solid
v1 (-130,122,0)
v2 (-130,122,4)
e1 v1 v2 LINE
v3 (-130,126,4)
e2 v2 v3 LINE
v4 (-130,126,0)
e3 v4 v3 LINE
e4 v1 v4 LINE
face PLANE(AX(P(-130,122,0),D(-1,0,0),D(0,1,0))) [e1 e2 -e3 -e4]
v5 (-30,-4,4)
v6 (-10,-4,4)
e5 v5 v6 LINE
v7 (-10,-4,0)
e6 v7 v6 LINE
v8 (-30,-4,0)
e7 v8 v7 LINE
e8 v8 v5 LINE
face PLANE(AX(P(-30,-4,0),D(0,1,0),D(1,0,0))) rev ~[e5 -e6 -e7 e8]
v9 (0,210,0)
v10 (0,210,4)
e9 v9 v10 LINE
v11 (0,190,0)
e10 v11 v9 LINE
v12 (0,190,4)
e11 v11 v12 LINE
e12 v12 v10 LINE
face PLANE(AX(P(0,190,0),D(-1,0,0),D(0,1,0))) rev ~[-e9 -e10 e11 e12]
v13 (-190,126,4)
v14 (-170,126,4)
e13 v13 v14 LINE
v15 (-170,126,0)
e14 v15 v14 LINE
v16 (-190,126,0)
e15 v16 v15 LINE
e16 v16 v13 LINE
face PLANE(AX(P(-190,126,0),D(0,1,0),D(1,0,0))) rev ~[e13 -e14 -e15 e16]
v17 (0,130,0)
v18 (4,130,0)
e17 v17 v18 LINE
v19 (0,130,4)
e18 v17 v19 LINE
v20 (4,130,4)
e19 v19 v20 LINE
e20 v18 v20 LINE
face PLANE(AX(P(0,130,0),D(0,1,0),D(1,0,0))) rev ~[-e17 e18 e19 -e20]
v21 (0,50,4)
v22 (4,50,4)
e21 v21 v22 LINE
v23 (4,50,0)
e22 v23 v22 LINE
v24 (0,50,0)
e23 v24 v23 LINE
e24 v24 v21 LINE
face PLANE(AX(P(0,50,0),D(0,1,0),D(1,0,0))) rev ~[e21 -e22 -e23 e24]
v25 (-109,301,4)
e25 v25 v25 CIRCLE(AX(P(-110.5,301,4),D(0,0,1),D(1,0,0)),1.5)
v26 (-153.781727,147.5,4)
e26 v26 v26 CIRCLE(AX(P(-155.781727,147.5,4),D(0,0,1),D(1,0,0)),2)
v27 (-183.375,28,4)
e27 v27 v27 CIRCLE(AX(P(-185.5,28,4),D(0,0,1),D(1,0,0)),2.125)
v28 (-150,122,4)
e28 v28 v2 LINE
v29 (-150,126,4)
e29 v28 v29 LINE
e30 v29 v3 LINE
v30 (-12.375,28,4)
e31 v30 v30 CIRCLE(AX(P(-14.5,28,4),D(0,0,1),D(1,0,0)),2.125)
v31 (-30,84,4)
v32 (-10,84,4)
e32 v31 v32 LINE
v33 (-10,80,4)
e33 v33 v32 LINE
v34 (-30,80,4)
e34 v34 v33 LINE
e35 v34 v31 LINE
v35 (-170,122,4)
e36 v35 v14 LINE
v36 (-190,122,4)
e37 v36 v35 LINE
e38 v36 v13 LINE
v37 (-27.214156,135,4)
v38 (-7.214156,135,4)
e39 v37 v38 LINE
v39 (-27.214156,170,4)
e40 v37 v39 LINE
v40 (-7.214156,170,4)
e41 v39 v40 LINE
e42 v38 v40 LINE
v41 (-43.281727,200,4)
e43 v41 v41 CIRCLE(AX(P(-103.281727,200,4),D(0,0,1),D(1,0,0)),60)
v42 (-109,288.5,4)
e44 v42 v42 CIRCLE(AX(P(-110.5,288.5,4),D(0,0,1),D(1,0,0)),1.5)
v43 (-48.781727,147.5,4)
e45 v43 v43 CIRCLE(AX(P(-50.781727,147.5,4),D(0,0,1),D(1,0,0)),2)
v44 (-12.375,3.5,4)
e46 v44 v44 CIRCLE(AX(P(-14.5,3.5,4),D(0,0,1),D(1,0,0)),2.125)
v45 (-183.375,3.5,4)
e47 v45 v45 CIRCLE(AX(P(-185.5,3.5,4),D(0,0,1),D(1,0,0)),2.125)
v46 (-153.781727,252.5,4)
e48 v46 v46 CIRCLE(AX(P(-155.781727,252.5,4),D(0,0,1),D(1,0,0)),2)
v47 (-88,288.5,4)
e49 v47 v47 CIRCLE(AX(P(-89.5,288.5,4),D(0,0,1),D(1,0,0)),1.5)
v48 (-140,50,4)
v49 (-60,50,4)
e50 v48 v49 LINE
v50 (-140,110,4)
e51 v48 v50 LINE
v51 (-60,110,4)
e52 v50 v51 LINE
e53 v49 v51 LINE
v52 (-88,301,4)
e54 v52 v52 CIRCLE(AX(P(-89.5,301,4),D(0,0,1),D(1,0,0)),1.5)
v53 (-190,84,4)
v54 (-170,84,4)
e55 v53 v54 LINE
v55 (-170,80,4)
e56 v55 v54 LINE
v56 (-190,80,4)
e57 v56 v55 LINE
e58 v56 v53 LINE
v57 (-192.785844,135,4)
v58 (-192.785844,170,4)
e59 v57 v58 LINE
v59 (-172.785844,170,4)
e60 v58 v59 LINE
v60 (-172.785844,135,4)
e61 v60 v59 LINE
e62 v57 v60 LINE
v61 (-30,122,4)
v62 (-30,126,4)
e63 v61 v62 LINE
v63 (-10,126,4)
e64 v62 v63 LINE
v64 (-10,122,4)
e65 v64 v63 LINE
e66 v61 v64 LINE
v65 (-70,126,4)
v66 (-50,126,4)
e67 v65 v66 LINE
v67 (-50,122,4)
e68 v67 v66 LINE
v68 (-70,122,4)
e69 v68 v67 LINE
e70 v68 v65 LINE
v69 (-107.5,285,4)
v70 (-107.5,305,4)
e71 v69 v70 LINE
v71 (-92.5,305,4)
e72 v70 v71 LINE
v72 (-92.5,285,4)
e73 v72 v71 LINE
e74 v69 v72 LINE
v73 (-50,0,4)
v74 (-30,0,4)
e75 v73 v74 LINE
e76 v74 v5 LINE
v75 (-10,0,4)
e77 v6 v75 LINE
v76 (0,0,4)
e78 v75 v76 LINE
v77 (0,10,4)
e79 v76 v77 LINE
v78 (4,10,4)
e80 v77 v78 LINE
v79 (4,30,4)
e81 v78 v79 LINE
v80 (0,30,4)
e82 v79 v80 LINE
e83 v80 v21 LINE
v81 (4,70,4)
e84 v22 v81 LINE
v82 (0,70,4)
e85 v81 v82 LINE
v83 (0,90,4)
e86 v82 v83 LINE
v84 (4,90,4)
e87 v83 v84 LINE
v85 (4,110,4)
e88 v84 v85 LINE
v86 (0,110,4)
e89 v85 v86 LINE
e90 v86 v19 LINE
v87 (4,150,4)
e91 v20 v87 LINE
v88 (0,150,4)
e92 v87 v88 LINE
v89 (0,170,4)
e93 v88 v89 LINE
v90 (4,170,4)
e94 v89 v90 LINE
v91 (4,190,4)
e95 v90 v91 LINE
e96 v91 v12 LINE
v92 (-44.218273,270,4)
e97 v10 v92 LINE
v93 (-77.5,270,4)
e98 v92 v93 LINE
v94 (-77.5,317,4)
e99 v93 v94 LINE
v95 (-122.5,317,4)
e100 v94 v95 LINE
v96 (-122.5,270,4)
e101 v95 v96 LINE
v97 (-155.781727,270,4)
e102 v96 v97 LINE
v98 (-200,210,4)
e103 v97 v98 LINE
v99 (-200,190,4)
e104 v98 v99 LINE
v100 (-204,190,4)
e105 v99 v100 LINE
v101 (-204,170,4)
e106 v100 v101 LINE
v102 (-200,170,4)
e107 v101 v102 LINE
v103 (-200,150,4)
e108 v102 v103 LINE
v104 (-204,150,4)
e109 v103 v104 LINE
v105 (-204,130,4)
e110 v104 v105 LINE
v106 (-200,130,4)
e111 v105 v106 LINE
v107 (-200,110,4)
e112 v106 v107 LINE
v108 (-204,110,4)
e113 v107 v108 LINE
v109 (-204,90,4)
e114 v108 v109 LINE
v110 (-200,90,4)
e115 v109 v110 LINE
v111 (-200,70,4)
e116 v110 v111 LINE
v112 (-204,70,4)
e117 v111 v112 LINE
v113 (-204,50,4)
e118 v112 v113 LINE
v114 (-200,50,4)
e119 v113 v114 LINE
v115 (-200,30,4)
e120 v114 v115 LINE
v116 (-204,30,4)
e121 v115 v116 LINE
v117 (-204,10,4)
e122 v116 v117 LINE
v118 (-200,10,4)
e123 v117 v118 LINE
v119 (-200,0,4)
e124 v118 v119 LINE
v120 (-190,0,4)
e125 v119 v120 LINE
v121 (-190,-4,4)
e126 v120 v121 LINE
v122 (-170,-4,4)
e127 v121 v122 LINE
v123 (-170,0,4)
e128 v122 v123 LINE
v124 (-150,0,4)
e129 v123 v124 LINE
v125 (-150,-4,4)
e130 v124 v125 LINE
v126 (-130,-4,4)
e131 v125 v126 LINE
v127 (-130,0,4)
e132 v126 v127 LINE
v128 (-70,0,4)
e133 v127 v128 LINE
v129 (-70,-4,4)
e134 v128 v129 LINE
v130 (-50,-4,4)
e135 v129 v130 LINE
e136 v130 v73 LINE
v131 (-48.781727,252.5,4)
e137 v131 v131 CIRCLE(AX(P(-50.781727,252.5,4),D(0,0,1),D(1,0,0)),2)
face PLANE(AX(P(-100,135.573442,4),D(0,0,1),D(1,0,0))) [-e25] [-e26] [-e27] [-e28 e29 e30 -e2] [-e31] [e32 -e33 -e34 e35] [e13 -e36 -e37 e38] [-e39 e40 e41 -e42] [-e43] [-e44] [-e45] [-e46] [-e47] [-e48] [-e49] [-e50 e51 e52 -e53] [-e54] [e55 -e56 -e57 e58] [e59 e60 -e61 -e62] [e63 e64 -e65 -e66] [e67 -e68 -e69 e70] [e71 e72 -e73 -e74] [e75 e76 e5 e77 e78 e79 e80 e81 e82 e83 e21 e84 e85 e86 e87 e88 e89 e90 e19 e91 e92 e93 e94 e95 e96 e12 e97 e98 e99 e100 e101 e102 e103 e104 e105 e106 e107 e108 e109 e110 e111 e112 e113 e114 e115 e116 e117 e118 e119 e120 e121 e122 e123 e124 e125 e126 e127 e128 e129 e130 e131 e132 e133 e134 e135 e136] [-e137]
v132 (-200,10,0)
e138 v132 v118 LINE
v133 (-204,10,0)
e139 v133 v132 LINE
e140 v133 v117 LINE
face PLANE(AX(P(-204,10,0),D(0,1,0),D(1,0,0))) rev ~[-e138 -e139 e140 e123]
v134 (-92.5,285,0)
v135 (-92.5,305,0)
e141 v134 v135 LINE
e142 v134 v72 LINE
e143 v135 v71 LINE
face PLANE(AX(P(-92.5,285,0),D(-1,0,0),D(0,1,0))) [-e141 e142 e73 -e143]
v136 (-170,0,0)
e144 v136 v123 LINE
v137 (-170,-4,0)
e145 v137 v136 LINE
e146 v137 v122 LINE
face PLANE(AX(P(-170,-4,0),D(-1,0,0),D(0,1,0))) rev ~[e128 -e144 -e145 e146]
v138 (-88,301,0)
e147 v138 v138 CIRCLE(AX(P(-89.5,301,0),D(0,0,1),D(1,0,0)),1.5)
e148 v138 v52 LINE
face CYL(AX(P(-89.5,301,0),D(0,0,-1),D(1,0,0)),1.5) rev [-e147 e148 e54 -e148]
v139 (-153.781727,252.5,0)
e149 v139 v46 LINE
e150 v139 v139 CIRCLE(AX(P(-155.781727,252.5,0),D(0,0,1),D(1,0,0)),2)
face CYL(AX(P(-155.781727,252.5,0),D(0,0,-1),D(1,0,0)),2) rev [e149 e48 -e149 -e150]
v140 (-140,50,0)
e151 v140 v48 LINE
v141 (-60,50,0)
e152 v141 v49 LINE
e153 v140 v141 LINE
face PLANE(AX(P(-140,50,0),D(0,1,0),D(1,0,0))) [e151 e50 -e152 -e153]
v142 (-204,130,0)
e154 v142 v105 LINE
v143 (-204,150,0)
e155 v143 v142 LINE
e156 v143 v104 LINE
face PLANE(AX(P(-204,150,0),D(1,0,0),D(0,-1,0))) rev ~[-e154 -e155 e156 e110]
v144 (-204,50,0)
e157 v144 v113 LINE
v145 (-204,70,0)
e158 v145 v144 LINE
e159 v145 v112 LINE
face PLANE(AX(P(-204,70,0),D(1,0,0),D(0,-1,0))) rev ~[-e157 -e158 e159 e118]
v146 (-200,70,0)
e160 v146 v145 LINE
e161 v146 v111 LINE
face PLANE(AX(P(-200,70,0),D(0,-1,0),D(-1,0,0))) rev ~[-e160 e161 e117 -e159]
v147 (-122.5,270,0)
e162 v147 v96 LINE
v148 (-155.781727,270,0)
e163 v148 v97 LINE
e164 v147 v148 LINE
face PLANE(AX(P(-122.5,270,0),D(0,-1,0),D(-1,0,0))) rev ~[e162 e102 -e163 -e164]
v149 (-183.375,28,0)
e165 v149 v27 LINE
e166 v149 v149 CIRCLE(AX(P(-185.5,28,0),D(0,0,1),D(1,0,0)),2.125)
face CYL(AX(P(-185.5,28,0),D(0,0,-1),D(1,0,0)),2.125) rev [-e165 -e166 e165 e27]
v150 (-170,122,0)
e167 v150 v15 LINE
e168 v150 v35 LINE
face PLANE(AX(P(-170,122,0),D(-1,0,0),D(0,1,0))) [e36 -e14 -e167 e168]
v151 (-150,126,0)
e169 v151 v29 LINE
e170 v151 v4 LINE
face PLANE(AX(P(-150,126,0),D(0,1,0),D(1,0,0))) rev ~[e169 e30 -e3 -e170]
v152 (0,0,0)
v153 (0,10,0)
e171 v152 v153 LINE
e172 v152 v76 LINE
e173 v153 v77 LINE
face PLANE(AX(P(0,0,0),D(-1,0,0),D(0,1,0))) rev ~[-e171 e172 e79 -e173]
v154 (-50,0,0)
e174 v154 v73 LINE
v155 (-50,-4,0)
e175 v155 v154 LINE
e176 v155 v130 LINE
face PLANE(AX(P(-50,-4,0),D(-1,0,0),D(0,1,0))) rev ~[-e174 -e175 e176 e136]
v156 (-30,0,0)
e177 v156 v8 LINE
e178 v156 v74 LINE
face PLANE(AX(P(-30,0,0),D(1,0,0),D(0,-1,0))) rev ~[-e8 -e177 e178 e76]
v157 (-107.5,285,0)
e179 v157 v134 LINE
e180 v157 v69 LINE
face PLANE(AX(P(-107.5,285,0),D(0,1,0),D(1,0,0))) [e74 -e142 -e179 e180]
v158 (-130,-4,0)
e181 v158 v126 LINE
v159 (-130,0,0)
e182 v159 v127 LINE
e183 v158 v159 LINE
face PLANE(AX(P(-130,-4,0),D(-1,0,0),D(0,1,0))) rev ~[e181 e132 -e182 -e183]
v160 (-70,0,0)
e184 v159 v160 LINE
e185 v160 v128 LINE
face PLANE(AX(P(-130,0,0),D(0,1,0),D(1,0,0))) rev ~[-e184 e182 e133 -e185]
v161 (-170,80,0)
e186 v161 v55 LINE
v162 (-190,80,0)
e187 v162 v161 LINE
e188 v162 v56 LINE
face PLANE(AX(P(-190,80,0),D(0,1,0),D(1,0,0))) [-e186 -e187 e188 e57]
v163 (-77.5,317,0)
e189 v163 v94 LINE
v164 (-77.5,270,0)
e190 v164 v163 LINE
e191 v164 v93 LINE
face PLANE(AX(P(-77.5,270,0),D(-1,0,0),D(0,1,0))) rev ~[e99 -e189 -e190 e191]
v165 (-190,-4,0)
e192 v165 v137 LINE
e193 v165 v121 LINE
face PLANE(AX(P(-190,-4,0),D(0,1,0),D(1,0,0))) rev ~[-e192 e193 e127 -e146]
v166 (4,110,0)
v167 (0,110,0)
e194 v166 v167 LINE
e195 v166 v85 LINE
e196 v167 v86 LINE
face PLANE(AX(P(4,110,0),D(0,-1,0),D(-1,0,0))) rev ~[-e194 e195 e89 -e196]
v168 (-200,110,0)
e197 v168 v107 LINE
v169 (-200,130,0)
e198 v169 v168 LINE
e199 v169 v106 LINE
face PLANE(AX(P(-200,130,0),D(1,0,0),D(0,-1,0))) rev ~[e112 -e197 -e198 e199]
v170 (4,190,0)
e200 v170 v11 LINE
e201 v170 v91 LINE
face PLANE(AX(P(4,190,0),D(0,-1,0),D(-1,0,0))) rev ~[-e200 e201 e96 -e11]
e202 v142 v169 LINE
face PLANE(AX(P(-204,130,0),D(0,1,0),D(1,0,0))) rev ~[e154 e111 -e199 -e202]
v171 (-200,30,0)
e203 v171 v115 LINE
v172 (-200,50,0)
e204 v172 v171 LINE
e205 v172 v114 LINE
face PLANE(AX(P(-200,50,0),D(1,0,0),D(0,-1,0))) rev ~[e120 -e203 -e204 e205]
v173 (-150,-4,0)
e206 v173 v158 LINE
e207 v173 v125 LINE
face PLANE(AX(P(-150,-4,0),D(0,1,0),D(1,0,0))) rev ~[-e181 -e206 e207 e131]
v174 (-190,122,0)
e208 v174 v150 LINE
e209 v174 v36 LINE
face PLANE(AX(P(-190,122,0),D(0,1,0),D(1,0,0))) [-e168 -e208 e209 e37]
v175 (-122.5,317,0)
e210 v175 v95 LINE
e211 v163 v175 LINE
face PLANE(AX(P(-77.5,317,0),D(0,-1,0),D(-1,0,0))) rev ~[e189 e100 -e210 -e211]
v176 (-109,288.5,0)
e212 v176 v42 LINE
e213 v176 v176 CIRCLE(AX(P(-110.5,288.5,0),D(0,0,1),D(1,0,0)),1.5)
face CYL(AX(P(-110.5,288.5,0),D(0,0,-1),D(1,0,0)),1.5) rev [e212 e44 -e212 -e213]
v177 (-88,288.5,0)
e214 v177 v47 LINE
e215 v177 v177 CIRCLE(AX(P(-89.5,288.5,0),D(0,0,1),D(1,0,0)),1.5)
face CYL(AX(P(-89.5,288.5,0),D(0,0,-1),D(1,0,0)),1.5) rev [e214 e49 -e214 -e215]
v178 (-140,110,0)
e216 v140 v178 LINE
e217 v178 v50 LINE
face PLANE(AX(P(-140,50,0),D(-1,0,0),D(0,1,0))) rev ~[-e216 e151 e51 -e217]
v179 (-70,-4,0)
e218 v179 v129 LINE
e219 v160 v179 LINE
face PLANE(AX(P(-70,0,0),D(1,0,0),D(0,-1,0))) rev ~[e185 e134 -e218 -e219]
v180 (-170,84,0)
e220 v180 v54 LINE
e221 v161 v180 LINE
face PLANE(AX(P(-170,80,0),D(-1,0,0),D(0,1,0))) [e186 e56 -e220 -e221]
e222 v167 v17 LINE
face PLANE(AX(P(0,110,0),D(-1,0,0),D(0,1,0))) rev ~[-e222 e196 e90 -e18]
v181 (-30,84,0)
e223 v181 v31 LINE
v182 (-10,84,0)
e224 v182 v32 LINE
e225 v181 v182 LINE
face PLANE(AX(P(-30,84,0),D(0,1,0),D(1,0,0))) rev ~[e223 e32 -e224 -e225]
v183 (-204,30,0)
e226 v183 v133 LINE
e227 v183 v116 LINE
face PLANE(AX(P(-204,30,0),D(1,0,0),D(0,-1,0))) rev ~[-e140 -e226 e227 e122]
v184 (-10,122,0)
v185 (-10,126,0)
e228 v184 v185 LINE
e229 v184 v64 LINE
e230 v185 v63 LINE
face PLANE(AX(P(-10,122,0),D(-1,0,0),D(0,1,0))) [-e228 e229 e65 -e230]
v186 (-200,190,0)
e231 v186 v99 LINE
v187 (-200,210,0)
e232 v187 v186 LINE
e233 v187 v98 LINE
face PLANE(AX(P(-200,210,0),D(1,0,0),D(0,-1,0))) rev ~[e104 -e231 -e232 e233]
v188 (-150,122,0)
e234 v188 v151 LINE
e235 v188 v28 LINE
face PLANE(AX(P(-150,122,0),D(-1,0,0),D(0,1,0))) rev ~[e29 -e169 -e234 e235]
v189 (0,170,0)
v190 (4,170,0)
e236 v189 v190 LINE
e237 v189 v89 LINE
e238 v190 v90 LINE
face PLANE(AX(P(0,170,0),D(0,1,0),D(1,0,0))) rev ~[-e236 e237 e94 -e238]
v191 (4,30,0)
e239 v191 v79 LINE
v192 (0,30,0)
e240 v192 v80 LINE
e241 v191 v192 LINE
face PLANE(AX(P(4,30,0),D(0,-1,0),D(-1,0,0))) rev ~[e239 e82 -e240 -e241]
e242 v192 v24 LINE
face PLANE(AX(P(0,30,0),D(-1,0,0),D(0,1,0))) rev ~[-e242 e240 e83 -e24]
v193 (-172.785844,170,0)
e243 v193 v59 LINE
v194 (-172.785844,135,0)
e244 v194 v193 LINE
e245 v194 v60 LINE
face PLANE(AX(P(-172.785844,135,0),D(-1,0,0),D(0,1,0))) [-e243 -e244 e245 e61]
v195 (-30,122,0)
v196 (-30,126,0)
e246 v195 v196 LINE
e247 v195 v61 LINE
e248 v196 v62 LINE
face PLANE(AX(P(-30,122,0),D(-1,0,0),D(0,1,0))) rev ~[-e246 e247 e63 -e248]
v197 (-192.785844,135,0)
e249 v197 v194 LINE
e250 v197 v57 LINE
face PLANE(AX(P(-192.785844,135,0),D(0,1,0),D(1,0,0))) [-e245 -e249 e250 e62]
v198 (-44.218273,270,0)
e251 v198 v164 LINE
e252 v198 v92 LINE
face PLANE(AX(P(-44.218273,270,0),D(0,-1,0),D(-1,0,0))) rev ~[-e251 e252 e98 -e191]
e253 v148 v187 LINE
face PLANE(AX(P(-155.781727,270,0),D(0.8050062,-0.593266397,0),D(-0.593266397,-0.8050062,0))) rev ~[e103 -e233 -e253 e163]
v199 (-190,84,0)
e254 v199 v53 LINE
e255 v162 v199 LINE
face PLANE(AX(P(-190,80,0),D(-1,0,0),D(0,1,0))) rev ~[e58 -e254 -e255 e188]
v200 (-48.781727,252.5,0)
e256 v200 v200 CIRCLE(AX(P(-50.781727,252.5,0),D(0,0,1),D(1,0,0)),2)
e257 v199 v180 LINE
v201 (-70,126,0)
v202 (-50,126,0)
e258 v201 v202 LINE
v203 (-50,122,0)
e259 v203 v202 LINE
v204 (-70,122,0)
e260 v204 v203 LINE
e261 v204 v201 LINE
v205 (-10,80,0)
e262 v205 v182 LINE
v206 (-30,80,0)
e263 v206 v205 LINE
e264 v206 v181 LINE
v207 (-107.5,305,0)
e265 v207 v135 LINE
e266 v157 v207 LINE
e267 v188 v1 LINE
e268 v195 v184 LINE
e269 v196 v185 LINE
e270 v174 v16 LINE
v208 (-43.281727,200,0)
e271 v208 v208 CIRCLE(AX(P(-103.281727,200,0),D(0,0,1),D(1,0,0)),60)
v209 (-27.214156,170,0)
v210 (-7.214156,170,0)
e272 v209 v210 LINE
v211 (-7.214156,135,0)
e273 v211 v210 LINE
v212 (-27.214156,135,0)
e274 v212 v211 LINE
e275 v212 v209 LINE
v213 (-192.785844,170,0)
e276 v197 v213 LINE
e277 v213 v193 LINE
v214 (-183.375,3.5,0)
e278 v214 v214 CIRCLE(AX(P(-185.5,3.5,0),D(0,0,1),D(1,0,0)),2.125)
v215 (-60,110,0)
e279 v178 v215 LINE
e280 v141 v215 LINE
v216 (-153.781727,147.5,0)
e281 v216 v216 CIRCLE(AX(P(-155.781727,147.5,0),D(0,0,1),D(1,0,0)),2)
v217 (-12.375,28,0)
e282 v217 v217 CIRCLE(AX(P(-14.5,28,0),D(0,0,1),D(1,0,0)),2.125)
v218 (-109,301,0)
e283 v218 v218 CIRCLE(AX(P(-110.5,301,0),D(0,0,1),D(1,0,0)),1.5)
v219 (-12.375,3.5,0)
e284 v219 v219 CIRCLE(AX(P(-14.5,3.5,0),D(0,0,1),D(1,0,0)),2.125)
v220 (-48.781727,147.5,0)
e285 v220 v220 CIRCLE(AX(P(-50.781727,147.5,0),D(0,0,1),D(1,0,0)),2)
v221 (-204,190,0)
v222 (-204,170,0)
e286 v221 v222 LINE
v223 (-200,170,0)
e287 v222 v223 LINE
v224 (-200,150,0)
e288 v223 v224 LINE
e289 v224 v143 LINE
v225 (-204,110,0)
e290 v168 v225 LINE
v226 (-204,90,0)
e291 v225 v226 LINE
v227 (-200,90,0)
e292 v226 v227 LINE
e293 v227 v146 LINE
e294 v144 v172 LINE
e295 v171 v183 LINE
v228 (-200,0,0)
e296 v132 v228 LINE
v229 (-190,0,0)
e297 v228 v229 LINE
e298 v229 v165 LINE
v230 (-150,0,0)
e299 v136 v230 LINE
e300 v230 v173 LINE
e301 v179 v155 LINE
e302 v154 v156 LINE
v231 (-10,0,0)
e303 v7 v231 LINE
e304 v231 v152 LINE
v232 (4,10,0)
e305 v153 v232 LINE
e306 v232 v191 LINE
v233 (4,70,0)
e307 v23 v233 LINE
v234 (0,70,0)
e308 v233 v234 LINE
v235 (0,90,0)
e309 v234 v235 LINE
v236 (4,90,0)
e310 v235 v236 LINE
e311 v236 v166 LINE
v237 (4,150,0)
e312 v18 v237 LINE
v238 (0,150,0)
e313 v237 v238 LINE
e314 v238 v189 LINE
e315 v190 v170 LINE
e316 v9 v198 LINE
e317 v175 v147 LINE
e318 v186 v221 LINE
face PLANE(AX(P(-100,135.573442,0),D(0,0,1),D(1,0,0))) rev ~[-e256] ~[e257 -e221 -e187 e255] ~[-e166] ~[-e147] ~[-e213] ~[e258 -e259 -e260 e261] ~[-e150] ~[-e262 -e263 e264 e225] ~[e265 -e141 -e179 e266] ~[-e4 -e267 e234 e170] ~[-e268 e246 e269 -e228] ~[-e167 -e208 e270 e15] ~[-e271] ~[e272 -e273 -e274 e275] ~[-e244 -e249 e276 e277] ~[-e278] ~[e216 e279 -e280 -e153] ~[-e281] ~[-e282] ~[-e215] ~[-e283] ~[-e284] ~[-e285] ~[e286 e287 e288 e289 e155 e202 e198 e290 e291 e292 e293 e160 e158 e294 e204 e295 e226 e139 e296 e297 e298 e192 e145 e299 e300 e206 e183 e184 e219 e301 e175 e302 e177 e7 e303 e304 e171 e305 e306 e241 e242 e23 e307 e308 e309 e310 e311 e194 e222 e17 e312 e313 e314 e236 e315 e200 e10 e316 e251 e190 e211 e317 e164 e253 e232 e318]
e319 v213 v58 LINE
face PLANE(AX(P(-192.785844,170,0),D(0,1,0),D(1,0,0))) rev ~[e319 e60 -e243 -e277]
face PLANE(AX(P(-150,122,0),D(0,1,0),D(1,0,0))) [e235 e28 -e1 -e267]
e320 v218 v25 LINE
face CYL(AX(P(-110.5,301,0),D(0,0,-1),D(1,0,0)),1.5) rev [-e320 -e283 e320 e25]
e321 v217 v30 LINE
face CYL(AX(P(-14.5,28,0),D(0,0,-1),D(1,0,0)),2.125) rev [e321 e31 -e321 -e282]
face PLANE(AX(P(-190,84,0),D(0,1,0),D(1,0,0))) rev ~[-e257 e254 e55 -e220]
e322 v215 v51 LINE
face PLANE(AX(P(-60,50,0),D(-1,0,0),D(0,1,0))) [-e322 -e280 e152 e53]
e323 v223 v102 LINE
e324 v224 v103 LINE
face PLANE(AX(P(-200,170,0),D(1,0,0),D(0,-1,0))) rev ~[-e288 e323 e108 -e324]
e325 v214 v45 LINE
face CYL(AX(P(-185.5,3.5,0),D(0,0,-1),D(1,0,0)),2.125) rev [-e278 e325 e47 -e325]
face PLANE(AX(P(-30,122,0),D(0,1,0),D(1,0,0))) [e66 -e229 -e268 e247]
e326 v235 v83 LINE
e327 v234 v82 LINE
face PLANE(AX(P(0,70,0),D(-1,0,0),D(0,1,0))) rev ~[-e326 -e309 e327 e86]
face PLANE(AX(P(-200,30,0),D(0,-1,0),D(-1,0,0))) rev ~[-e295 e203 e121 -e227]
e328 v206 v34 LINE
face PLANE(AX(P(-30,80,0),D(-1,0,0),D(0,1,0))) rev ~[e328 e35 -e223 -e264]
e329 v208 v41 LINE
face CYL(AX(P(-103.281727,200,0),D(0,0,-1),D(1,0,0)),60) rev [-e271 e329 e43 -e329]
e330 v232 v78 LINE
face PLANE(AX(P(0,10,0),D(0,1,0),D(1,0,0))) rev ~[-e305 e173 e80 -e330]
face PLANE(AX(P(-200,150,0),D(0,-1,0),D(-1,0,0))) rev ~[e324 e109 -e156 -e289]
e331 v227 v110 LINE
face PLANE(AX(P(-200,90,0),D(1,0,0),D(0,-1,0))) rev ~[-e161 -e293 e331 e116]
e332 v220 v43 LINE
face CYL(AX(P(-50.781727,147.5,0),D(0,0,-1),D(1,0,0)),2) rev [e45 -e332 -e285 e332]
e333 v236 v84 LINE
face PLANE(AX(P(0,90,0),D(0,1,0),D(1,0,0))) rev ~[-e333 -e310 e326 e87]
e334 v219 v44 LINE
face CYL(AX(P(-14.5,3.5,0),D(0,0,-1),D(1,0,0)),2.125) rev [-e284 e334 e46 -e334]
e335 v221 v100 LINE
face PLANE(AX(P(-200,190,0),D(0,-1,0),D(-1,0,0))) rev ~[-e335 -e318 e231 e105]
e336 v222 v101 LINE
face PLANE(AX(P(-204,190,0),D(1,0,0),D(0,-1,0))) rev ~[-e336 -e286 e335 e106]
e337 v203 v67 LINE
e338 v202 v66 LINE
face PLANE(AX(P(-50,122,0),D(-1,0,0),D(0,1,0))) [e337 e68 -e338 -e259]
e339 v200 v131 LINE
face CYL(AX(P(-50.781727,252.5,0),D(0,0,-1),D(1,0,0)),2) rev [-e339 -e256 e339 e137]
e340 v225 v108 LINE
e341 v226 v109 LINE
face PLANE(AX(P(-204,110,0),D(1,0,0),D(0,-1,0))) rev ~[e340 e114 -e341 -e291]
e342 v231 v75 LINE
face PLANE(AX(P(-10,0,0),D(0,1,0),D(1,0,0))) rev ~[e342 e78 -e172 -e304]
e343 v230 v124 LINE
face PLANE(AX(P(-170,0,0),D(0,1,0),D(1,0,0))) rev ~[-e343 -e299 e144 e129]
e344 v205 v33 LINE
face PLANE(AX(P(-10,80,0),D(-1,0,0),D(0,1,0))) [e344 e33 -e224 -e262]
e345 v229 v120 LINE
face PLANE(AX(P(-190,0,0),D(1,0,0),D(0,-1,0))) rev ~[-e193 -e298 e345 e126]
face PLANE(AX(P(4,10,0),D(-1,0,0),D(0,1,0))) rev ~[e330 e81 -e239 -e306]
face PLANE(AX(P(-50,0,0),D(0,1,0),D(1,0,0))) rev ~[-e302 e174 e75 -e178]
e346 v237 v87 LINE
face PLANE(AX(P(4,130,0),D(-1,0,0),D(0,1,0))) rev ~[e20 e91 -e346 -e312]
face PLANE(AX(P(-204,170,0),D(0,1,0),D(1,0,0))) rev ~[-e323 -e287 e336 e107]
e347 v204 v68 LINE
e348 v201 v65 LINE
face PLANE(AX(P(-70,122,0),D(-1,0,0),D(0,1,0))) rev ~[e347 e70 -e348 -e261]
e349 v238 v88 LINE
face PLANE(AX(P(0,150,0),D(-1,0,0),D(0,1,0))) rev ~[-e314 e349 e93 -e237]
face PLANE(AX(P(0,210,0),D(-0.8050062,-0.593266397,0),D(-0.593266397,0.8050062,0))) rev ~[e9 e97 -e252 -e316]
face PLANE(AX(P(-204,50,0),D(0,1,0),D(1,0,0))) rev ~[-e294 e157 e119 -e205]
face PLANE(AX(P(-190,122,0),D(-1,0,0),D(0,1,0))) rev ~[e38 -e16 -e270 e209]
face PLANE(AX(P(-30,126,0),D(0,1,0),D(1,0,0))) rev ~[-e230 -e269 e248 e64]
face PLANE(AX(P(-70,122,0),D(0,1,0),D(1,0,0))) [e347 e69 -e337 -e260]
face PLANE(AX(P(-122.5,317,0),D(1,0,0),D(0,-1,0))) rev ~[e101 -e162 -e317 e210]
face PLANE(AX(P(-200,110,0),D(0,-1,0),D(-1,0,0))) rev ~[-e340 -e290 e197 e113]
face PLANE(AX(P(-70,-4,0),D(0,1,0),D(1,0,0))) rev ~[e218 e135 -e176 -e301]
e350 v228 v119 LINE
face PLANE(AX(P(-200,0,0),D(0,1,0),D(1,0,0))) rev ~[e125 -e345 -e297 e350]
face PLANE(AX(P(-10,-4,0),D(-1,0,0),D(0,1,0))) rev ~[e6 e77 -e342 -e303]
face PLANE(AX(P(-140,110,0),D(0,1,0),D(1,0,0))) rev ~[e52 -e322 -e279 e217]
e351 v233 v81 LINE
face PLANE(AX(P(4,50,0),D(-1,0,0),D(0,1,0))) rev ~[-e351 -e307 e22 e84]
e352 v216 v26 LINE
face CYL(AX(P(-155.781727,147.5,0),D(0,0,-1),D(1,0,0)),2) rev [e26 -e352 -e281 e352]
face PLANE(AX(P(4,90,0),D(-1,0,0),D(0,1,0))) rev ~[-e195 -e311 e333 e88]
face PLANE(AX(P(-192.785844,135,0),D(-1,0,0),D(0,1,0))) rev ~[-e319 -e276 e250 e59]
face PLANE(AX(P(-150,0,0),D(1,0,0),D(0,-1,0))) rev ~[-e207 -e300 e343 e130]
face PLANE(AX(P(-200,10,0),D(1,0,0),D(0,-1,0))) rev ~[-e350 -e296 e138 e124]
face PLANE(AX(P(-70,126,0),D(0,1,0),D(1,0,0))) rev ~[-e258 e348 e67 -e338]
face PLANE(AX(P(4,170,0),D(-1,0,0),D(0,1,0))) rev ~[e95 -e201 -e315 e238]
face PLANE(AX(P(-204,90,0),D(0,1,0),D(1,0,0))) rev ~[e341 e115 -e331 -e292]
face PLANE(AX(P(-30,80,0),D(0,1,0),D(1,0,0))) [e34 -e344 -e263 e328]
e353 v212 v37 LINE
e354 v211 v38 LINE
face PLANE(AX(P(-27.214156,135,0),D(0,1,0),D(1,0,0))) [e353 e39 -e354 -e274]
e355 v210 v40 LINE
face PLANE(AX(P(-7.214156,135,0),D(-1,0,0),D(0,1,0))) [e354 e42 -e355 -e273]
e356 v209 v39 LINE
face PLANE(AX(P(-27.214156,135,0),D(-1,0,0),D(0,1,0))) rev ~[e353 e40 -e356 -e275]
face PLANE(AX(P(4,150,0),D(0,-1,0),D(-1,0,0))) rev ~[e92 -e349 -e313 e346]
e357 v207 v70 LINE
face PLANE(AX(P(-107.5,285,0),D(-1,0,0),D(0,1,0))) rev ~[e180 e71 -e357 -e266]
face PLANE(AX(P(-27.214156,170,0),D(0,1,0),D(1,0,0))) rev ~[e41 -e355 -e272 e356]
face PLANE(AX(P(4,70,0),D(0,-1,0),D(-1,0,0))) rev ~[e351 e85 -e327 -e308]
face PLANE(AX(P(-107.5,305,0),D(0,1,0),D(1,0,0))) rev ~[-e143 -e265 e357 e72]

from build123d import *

# Parameters (mm, degrees)
SKICA1_R                = 2.125
SKICA1_W                = 20
SKICA1_H                = 4
SKICA1_H_2              = 35
SKICA1_R_2              = 2
SKICA1_W_2              = 80
SKICA1_H_3              = 60
SKICA1_R_3              = 60
SKICA1_R_4              = 1.5
SKICA1_W_3              = 15
SKICA1_H_4              = 20
P_IDAT_VYSUNUT_M1_DEPTH = 4


with BuildPart() as part:
    # Skica1 → Přidat vysunutím1 (new body)
    with BuildSketch(Plane.XY):
        Polygon((0, 0), (0, 10), (4, 10), (4, 30), (0, 30), (0, 50), (4, 50), (4, 70), (0, 70), (0, 90), (4, 90), (4, 110), (0, 110), (0, 130), (4, 130), (4, 150), (0, 150), (0, 170), (4, 170), (4, 190), (0, 190), (0, 210), (-44.218272824, 270), (-77.5, 270), (-77.5, 317), (-122.5, 317), (-122.5, 270), (-155.781727176, 270), (-200, 210), (-200, 190), (-204, 190), (-204, 170), (-200, 170), (-200, 150), (-204, 150), (-204, 130), (-200, 130), (-200, 110), (-204, 110), (-204, 90), (-200, 90), (-200, 70), (-204, 70), (-204, 50), (-200, 50), (-200, 30), (-204, 30), (-204, 10), (-200, 10), (-200, 0), (-190, 0), (-190, -4), (-170, -4), (-170, 0), (-150, 0), (-150, -4), (-130, -4), (-130, 0), (-70, 0), (-70, -4), (-50, -4), (-50, 0), (-30, 0), (-30, -4), (-10, -4), (-10, 0), align=None)
        with Locations((-185.5, 3.5)):
            Circle(SKICA1_R, mode=Mode.SUBTRACT)
        with Locations((-185.5, 28)):
            Circle(SKICA1_R, mode=Mode.SUBTRACT)
        with Locations((-180, 82)):
            Rectangle(SKICA1_W, SKICA1_H, mode=Mode.SUBTRACT)
        with Locations((-180, 124)):
            Rectangle(SKICA1_W, SKICA1_H, mode=Mode.SUBTRACT)
        with Locations((-182.785843761, 152.5)):
            Rectangle(SKICA1_W, SKICA1_H_2, mode=Mode.SUBTRACT)
        with Locations((-155.781727176, 147.5)):
            Circle(SKICA1_R_2, mode=Mode.SUBTRACT)
        with Locations((-140, 124)):
            Rectangle(SKICA1_W, SKICA1_H, mode=Mode.SUBTRACT)
        with Locations((-14.5, 3.5)):
            Circle(SKICA1_R, mode=Mode.SUBTRACT)
        with Locations((-14.5, 28)):
            Circle(SKICA1_R, mode=Mode.SUBTRACT)
        with Locations((-100, 80)):
            Rectangle(SKICA1_W_2, SKICA1_H_3, mode=Mode.SUBTRACT)
        with Locations((-60, 124)):
            Rectangle(SKICA1_W, SKICA1_H, mode=Mode.SUBTRACT)
        with Locations((-50.781727176, 147.5)):
            Circle(SKICA1_R_2, mode=Mode.SUBTRACT)
        with Locations((-20, 82)):
            Rectangle(SKICA1_W, SKICA1_H, mode=Mode.SUBTRACT)
        with Locations((-20, 124)):
            Rectangle(SKICA1_W, SKICA1_H, mode=Mode.SUBTRACT)
        with Locations((-17.214156239, 152.5)):
            Rectangle(SKICA1_W, SKICA1_H_2, mode=Mode.SUBTRACT)
        with Locations((-103.281727176, 200)):
            Circle(SKICA1_R_3, mode=Mode.SUBTRACT)
        with Locations((-155.781727176, 252.5)):
            Circle(SKICA1_R_2, mode=Mode.SUBTRACT)
        with Locations((-50.781727176, 252.5)):
            Circle(SKICA1_R_2, mode=Mode.SUBTRACT)
        with Locations((-89.5, 301)):
            Circle(SKICA1_R_4, mode=Mode.SUBTRACT)
        with Locations((-110.5, 288.5)):
            Circle(SKICA1_R_4, mode=Mode.SUBTRACT)
        with Locations((-100, 295)):
            Rectangle(SKICA1_W_3, SKICA1_H_4, mode=Mode.SUBTRACT)
        with Locations((-110.5, 301)):
            Circle(SKICA1_R_4, mode=Mode.SUBTRACT)
        with Locations((-89.5, 288.5)):
            Circle(SKICA1_R_4, mode=Mode.SUBTRACT)
    extrude(amount=P_IDAT_VYSUNUT_M1_DEPTH)


solid = part.part
